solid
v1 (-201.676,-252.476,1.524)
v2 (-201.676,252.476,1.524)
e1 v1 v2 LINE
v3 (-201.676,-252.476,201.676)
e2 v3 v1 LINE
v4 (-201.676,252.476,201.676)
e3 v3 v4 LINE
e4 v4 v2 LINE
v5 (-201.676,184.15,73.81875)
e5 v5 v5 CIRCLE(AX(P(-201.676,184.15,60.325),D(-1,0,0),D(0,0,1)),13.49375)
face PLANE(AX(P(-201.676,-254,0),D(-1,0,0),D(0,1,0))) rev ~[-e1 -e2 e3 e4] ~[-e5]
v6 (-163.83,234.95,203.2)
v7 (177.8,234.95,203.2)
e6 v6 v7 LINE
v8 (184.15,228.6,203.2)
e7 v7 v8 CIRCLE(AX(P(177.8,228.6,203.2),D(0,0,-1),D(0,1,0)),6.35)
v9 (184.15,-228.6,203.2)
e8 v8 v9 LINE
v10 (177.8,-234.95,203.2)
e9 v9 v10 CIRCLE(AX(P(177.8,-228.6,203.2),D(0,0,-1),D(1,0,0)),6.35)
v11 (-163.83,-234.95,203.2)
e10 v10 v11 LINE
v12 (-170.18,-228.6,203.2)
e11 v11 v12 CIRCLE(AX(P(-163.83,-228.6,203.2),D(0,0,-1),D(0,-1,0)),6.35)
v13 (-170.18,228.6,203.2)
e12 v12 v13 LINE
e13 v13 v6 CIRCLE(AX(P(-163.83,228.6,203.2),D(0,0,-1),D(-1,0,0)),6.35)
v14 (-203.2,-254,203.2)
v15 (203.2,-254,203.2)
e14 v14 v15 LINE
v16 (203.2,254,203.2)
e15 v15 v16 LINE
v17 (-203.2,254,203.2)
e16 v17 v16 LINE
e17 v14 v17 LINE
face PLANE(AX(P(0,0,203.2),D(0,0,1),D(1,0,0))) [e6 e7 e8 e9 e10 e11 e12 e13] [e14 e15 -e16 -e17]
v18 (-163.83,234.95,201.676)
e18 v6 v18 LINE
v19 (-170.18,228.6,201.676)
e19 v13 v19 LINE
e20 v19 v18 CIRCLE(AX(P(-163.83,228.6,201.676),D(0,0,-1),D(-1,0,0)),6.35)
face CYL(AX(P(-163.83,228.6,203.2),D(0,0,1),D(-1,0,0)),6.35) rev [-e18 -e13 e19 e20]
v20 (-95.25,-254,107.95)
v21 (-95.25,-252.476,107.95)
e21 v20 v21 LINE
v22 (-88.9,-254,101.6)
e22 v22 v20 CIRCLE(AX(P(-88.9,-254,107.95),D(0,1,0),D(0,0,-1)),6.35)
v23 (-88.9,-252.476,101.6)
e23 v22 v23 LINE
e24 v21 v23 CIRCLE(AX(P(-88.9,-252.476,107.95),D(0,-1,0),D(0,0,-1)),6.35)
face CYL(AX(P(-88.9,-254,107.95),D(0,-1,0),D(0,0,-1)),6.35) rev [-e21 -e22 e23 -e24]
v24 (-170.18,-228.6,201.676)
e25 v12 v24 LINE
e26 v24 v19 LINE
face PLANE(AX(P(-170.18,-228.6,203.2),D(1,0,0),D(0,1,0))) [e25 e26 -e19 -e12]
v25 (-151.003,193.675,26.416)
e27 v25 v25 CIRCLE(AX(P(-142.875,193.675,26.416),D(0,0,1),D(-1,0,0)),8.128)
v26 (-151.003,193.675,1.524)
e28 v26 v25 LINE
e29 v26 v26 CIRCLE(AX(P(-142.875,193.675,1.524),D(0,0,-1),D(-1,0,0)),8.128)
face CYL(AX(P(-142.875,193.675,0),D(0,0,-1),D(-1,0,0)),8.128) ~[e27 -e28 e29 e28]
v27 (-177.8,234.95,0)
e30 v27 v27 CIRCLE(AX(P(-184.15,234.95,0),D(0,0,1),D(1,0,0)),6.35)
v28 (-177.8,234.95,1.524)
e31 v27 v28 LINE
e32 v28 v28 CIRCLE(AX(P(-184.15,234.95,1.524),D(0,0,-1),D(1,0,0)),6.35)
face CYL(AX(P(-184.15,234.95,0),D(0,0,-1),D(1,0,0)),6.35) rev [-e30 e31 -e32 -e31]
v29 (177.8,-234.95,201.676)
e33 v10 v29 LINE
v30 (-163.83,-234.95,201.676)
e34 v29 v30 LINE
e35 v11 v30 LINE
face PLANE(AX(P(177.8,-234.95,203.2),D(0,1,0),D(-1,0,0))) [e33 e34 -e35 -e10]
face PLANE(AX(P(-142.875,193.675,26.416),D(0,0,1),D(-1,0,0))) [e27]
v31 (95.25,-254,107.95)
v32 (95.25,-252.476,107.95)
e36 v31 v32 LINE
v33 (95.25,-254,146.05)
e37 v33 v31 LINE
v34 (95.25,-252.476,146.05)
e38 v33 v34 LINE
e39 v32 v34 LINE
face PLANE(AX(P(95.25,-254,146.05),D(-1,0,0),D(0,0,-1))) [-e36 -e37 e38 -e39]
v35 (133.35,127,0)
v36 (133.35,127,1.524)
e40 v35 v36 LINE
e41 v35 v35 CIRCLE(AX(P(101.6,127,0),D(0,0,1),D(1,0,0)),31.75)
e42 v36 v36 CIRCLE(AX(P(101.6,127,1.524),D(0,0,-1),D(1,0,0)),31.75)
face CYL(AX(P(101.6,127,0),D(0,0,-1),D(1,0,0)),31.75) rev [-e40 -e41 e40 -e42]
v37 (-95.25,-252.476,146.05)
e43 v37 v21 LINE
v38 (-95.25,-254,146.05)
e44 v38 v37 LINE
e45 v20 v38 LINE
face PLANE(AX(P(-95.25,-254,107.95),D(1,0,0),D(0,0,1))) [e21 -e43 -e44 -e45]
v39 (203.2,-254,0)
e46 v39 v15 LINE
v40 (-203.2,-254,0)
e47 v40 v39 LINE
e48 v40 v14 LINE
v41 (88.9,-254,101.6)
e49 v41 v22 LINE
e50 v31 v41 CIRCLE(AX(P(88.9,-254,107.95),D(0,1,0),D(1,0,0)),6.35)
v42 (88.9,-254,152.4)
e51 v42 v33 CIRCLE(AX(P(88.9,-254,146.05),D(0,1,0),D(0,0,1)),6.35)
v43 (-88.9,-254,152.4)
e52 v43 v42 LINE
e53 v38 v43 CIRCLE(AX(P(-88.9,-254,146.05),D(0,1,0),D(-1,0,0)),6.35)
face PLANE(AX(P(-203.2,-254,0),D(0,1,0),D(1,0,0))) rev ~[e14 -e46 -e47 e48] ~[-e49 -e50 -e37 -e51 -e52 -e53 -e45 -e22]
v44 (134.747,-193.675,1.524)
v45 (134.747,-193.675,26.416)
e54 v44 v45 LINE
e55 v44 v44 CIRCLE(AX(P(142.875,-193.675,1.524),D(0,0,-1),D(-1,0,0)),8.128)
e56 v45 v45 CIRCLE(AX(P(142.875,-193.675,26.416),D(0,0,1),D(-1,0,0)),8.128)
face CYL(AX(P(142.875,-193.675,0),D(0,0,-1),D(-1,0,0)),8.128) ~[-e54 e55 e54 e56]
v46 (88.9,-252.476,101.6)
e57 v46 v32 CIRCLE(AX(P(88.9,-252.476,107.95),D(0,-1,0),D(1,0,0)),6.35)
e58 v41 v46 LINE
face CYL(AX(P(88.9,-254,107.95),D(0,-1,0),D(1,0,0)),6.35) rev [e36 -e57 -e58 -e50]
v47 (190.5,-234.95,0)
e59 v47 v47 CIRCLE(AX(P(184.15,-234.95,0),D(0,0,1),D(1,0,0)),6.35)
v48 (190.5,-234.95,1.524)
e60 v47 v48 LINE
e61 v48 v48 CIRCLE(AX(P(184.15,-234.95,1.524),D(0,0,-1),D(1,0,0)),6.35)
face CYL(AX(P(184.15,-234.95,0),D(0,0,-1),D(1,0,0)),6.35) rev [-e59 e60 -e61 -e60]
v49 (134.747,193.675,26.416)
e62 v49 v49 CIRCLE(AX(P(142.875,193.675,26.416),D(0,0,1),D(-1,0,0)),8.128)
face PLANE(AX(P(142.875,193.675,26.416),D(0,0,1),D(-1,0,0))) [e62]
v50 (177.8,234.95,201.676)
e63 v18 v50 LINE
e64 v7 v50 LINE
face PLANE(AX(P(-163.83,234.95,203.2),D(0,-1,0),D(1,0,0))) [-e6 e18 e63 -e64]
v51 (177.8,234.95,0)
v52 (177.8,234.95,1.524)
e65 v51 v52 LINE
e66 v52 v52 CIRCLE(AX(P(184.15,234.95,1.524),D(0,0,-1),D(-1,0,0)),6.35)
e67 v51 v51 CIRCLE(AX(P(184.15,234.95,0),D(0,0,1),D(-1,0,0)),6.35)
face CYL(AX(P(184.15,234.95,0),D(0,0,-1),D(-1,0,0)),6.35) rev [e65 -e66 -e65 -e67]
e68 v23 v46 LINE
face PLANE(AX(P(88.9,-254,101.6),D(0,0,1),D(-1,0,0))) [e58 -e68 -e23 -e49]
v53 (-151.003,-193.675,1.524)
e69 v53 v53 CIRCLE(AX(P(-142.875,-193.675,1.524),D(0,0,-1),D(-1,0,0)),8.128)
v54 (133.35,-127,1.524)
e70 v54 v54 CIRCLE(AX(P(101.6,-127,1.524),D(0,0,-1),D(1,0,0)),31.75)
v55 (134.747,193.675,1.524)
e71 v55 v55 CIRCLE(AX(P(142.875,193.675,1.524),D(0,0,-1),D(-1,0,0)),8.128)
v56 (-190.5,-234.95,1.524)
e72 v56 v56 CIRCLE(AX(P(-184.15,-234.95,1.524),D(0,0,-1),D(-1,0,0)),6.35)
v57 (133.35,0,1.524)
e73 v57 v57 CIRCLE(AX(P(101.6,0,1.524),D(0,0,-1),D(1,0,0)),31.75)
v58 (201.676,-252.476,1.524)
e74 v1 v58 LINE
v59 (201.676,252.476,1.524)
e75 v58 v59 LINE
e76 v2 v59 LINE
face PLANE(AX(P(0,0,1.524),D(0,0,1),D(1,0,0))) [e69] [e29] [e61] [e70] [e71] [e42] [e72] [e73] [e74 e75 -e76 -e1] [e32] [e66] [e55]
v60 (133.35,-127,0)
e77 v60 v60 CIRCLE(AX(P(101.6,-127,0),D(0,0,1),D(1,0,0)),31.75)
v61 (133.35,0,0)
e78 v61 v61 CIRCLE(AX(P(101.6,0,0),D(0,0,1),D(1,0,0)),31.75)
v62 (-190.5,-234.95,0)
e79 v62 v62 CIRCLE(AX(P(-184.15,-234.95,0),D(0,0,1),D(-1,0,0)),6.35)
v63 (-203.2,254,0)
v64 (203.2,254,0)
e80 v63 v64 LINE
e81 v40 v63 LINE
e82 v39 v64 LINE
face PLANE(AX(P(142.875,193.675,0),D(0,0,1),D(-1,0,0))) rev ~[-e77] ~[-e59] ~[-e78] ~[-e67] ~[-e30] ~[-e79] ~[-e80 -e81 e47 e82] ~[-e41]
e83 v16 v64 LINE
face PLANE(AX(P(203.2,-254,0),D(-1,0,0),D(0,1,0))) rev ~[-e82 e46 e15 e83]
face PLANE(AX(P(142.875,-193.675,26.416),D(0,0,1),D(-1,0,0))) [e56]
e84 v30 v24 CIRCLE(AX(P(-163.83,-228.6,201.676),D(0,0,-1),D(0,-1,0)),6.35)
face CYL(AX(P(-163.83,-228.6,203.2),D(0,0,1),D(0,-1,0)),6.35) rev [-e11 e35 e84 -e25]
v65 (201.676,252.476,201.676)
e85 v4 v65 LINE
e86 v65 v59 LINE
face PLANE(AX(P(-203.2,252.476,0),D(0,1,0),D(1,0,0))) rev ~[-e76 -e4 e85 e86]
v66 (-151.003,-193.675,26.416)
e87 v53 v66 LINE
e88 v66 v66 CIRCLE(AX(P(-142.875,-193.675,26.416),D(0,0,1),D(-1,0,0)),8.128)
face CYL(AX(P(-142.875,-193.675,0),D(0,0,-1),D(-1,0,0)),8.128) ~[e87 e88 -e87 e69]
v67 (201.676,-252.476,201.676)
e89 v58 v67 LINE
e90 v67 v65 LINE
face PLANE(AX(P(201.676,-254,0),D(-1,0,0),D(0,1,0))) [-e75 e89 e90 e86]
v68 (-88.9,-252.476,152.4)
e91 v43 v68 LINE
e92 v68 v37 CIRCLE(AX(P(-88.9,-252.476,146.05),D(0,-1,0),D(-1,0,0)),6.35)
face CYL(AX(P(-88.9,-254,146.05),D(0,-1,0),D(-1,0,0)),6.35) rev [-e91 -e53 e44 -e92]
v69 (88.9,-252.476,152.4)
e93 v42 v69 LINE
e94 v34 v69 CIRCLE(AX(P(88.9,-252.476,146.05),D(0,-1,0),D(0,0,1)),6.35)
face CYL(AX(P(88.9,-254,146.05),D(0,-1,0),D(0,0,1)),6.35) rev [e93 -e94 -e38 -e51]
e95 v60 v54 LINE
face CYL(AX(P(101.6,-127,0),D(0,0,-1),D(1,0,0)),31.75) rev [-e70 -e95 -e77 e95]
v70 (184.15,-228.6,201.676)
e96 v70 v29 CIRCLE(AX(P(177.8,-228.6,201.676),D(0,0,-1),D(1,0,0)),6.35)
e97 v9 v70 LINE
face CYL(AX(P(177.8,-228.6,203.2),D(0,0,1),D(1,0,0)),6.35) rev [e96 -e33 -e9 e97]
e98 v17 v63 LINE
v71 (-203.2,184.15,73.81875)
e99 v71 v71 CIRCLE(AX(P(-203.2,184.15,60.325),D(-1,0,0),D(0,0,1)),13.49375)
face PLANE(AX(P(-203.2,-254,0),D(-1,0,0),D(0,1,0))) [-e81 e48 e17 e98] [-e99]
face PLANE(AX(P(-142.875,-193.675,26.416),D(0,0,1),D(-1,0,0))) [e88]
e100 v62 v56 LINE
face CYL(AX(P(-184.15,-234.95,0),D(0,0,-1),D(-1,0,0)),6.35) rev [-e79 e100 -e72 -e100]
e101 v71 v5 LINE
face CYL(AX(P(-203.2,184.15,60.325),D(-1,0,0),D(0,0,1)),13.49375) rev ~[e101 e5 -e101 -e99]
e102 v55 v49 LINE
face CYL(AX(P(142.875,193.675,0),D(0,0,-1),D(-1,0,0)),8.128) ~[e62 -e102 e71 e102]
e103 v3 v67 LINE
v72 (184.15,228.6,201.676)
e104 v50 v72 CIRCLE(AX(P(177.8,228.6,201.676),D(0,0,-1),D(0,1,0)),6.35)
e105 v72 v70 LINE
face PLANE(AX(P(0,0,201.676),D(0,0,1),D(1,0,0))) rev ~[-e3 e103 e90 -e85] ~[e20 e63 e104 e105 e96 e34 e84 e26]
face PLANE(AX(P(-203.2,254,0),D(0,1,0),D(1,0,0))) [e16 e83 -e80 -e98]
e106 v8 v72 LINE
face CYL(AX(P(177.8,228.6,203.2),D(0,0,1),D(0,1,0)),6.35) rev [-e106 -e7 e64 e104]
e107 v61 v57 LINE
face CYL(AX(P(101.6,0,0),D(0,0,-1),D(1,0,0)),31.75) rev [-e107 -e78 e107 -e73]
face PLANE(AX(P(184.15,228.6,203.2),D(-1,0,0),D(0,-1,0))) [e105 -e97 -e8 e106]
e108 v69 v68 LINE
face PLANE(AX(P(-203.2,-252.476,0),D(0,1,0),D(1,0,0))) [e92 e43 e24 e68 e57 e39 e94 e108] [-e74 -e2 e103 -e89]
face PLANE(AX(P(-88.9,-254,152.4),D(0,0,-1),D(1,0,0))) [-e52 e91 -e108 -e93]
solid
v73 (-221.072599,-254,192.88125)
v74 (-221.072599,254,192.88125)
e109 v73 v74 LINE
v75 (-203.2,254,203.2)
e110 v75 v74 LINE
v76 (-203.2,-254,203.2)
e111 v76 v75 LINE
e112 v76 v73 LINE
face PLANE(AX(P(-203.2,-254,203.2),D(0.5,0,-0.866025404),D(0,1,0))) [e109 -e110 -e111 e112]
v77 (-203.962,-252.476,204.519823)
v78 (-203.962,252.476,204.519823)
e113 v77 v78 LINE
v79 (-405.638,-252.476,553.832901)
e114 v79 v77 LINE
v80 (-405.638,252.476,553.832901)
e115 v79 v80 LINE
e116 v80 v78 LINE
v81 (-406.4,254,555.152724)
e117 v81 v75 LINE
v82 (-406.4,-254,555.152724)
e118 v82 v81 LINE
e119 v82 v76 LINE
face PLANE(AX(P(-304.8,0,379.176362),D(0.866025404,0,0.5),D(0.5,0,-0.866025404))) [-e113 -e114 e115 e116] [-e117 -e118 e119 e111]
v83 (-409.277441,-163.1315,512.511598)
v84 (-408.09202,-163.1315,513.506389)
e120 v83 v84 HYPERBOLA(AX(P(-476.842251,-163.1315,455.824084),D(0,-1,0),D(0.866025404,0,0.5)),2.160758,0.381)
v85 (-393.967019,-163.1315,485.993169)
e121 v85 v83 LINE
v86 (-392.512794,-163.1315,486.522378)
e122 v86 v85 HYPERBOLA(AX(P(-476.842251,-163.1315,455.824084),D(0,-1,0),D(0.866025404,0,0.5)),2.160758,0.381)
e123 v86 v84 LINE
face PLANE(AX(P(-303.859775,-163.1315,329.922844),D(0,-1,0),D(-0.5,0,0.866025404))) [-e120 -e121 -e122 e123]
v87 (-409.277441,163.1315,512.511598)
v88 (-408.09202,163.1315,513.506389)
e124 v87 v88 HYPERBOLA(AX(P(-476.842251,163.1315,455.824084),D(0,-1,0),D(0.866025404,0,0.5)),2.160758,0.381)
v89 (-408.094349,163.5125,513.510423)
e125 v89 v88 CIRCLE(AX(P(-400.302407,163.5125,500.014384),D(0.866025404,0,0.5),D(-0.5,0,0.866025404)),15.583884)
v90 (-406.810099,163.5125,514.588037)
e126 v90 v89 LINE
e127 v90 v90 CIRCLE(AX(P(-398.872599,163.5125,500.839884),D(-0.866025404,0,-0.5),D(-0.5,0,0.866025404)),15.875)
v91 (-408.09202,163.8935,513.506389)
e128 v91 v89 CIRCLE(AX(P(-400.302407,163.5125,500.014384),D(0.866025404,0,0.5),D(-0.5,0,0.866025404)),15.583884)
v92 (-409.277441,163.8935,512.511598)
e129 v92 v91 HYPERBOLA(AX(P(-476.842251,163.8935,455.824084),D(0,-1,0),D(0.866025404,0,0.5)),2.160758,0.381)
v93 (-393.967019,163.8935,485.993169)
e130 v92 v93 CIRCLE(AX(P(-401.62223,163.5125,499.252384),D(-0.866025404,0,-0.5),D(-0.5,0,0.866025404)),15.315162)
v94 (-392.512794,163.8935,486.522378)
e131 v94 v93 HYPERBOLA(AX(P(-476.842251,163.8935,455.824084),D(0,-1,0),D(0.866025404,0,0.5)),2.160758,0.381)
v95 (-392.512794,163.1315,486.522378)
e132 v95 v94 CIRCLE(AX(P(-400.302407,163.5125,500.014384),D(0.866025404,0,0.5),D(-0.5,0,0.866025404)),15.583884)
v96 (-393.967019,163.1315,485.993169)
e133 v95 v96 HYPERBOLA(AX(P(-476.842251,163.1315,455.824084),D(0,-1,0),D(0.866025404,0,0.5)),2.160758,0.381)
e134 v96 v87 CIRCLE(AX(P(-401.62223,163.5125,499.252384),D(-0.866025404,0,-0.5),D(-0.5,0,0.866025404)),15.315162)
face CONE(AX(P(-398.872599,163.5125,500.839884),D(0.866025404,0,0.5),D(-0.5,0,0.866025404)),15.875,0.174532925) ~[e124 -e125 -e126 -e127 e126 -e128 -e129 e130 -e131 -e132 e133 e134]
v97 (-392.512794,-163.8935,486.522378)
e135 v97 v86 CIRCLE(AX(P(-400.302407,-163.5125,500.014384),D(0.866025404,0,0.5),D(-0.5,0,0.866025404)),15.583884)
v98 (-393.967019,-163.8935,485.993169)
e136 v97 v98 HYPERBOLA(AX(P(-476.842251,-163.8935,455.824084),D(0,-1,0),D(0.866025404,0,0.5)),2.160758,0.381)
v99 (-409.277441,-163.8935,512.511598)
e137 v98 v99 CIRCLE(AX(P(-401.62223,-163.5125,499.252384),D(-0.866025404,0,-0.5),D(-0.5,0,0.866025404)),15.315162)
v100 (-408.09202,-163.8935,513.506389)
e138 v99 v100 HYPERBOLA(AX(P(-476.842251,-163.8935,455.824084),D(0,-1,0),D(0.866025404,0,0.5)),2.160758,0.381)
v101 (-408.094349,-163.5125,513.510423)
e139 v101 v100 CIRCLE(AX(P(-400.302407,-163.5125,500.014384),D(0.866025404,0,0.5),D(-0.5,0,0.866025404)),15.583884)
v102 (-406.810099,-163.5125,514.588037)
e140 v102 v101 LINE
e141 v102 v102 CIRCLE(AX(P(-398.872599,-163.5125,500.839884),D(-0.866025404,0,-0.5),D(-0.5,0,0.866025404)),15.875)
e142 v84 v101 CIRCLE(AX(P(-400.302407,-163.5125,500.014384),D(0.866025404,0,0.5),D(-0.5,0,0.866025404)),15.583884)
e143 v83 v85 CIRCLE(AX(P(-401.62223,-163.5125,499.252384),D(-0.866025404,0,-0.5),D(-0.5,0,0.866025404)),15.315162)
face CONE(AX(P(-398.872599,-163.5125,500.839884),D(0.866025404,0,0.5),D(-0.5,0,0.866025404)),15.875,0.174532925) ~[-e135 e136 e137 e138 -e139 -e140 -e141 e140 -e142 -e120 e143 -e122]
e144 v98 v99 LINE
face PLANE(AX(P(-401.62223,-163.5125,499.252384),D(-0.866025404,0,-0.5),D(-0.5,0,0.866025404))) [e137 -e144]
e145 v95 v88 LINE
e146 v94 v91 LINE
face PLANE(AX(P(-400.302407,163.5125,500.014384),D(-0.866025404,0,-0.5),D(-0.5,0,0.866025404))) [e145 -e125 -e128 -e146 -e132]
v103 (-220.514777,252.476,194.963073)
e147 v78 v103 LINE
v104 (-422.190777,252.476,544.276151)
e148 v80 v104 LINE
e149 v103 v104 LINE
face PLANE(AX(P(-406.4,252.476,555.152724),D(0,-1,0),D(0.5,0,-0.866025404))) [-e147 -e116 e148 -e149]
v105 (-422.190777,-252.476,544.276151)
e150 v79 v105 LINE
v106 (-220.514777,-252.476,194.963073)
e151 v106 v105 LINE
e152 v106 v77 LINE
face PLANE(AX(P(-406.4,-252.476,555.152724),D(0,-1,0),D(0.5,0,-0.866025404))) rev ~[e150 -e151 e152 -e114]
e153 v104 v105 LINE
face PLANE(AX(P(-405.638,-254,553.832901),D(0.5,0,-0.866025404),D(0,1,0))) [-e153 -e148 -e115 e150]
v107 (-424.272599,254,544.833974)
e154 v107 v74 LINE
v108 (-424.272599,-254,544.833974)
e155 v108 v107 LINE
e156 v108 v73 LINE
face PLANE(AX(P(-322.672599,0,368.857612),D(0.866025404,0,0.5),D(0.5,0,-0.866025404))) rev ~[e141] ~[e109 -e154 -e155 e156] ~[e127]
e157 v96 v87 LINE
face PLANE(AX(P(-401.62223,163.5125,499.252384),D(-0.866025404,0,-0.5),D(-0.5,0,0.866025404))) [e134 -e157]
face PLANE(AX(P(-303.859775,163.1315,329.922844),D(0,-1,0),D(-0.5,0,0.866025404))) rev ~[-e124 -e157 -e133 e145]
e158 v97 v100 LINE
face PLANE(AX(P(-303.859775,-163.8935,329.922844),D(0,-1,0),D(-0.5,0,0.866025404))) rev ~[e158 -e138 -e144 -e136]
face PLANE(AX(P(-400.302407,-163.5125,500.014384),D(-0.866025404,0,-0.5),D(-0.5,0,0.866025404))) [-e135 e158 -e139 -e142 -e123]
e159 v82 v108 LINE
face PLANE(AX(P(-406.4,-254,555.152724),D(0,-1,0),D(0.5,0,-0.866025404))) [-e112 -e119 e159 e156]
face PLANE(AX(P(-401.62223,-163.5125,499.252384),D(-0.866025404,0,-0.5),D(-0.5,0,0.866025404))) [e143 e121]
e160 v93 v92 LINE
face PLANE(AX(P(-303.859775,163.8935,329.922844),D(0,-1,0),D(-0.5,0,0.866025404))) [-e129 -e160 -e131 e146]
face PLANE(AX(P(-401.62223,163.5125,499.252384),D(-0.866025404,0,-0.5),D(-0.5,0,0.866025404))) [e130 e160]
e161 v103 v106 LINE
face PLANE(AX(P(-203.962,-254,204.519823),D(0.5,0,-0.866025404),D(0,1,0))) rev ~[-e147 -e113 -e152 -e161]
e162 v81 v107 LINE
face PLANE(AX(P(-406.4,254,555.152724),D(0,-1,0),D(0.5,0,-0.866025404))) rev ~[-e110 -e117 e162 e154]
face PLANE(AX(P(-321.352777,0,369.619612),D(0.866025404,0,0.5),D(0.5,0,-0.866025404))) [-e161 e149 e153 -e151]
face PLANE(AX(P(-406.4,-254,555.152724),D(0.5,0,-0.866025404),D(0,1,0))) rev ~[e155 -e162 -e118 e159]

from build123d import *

# Parameters (mm, degrees)
SKETCH1_W                = 406.4
SKETCH1_H                = 508
EXTRUDE1_DEPTH           = 203.2
SHELL1_T                 = -1.524
SKETCH2_R                = 6.35
CUT_EXTRUDE1_DEPTH       = 384.531589312
SKETCH6_W                = 406.4
SKETCH6_H                = 508
EXTRUDE3_DEPTH           = 1.524
SKETCH4_W                = 406.4
SKETCH4_H                = 508
EXTRUDE2_DEPTH           = 20.6375
SHELL2_T                 = -1.524
SKETCH7_R                = 13.49375
CUT_EXTRUDE2_DEPTH       = 2.54
SKETCH9_R                = 15.875
EXTRUDE5_DEPTH           = 3.175
EXTRUDE5_DRAFT           = 10
EXTRUDE5_PROFILE_2_DEPTH = 3.175
EXTRUDE5_PROFILE_2_DRAFT = 10
SKETCH10_W               = 391.049820908
SKETCH10_H               = 0.762
CUT_EXTRUDE3_DEPTH       = 1.524
SKETCH11_R               = 8.128
EXTRUDE6_DEPTH           = 26.416
SKETCH12_R               = 31.75
CUT_EXTRUDE5_DEPTH       = 2.54
CUT_EXTRUDE6_DEPTH       = 12.7


with BuildPart() as part:
    # Sketch1 → Extrude1 (new body)
    with BuildSketch(Plane.XY):
        Rectangle(SKETCH1_W, SKETCH1_H)
    extrude(amount=EXTRUDE1_DEPTH)

    # Shell1
    shell1_openings = [part.faces().sort_by_distance(p)[0] for p in [
        (0, 0, 203.2),
    ]]
    offset(amount=SHELL1_T, openings=shell1_openings, kind=Kind.INTERSECTION)

    # Sketch2 → Cut-Extrude1 (cut, through all)
    with BuildSketch(Plane.XY):
        with Locations((184.15, -234.95)):
            Circle(SKETCH2_R)
        with Locations(Location((-184.15, -234.95, 0), (0, 0, 180))):
            Circle(SKETCH2_R)
        with Locations(Location((184.15, 234.95, 0), (0, 0, 180))):
            Circle(SKETCH2_R)
        with Locations((-184.15, 234.95)):
            Circle(SKETCH2_R)
    extrude(amount=CUT_EXTRUDE1_DEPTH, mode=Mode.SUBTRACT)

    # Sketch6 → Extrude3 (add)
    with BuildSketch(Plane.XY.offset(203.2)):
        Rectangle(SKETCH6_W, SKETCH6_H)
        with BuildLine():
            Line((-163.83, 234.95), (177.8, 234.95))
            ThreePointArc((177.8, 234.95), (182.290128061, 233.090128061), (184.15, 228.6))
            Line((184.15, 228.6), (184.15, -228.6))
            ThreePointArc((184.15, -228.6), (182.290128061, -233.090128061), (177.8, -234.95))
            Line((177.8, -234.95), (-163.83, -234.95))
            ThreePointArc((-163.83, -234.95), (-168.320128061, -233.090128061), (-170.18, -228.6))
            Line((-170.18, -228.6), (-170.18, 228.6))
            ThreePointArc((-170.18, 228.6), (-168.320128061, 233.090128061), (-163.83, 234.95))
        make_face(mode=Mode.SUBTRACT)
    extrude(amount=-EXTRUDE3_DEPTH)

    # Sketch7 → Cut-Extrude2 (cut)
    with BuildSketch(Plane.ZY.offset(203.2)):
        with Locations((60.325, 184.15)):
            Circle(SKETCH7_R)
    extrude(amount=-CUT_EXTRUDE2_DEPTH, mode=Mode.SUBTRACT)

    # Sketch11 → Extrude6 (add)
    with BuildSketch(Plane.XY):
        with Locations(Location((142.875, 193.675, 0), (0, 0, 180))):
            Circle(SKETCH11_R)
        with Locations(Location((-142.875, 193.675, 0), (0, 0, 180))):
            Circle(SKETCH11_R)
        with Locations(Location((142.875, -193.675, 0), (0, 0, 180))):
            Circle(SKETCH11_R)
        with Locations(Location((-142.875, -193.675, 0), (0, 0, 180))):
            Circle(SKETCH11_R)
    extrude(amount=EXTRUDE6_DEPTH)

    # Sketch12 → Cut-Extrude5 (cut)
    with BuildSketch(Plane.XY):
        with Locations((101.6, 0)):
            Circle(SKETCH12_R)
        with Locations((101.6, -127)):
            Circle(SKETCH12_R)
        with Locations((101.6, 127)):
            Circle(SKETCH12_R)
    extrude(amount=CUT_EXTRUDE5_DEPTH, mode=Mode.SUBTRACT)

    # Sketch14 → Cut-Extrude6 (cut)
    with BuildSketch(Plane.XZ.offset(254)):
        with BuildLine():
            Line((-88.9, 152.4), (88.9, 152.4))
            ThreePointArc((88.9, 152.4), (93.390128061, 150.540128061), (95.25, 146.05))
            Line((95.25, 146.05), (95.25, 107.95))
            ThreePointArc((95.25, 107.95), (93.390128061, 103.459871939), (88.9, 101.6))
            Line((88.9, 101.6), (-88.9, 101.6))
            ThreePointArc((-88.9, 101.6), (-93.390128061, 103.459871939), (-95.25, 107.95))
            Line((-95.25, 107.95), (-95.25, 146.05))
            ThreePointArc((-95.25, 146.05), (-93.390128061, 150.540128061), (-88.9, 152.4))
        make_face()
    extrude(amount=-CUT_EXTRUDE6_DEPTH, mode=Mode.SUBTRACT)


with BuildPart() as body_2:
    # Sketch4 → Extrude2 (new body)
    with BuildSketch(Plane(origin=(-287.262584572, 0, 348.800667495), x_dir=(0.4999999999999948, 0, -0.8660254037844417), z_dir=(0.8660254037844417, 0, 0.4999999999999948))):
        with Locations((-35.074830855, 0)):
            Rectangle(SKETCH4_W, SKETCH4_H)
    extrude(amount=-EXTRUDE2_DEPTH)

    # Shell2
    shell2_openings = [body_2.faces().sort_by_distance(p)[0] for p in [
        (-304.8, 0, 379.176362049),
    ]]
    offset(amount=SHELL2_T, openings=shell2_openings, kind=Kind.INTERSECTION)


with BuildPart() as extrude5_tool:
    # Sketch9 → Extrude5 (with draft: the straight prism first)
    with BuildSketch(Plane(origin=(-82.284418246, 0, -47.506931024), x_dir=(-0.49999999999999467, 0, 0.8660254037844417), z_dir=(-0.8660254037844417, 0, -0.49999999999999467))):
        with Locations((633.176362049, 163.5125)):
            Circle(SKETCH9_R)
    extrude(amount=EXTRUDE5_DEPTH)
    # Extrude5: the draft: its side faces are tilted about the plane it starts from
    extrude5_sides = [extrude5_tool.faces().sort_by_distance(p)[0] for p in [
        (-392.309914599, 163.5125, 486.297980301),
    ]]
    draft(extrude5_sides, Plane(origin=(-82.284418246, 0, -47.506931024), x_dir=(-0.49999999999999467, 0, 0.8660254037844417), z_dir=(-0.8660254037844417, 0, -0.49999999999999467)), EXTRUDE5_DRAFT)


with BuildPart() as body_2_1:
    add(body_2.part)

    # Extrude5: add extrude5_tool
    add(extrude5_tool.part)


with BuildPart() as extrude5_profile_2_tool:
    # Sketch9 → Extrude5 profile 2 (with draft: the straight prism first)
    with BuildSketch(Plane(origin=(-82.284418246, 0, -47.506931024), x_dir=(-0.49999999999999467, 0, 0.8660254037844417), z_dir=(-0.8660254037844417, 0, -0.49999999999999467))):
        with Locations((633.176362049, -163.5125)):
            Circle(SKETCH9_R)
    extrude(amount=EXTRUDE5_PROFILE_2_DEPTH)
    # Extrude5 profile 2: the draft: its side faces are tilted about the plane it starts from
    extrude5_profile_2_sides = [extrude5_profile_2_tool.faces().sort_by_distance(p)[0] for p in [
        (-392.309914599, -163.5125, 486.297980301),
    ]]
    draft(extrude5_profile_2_sides, Plane(origin=(-82.284418246, 0, -47.506931024), x_dir=(-0.49999999999999467, 0, 0.8660254037844417), z_dir=(-0.8660254037844417, 0, -0.49999999999999467)), EXTRUDE5_PROFILE_2_DRAFT)


with BuildPart() as body_2_2:
    add(body_2_1.part)

    # Extrude5 profile 2: add extrude5_profile_2_tool
    add(extrude5_profile_2_tool.part)

    # Sketch10 → Cut-Extrude3 (cut)
    with BuildSketch(Plane(origin=(-85.034048903, 0, -49.094431024), x_dir=(-0.4999999999999946, 0, 0.8660254037844417), z_dir=(-0.8660254037844417, 0, -0.4999999999999946))):
        with Locations((633.176362049, -163.5125)):
            Rectangle(SKETCH10_W, SKETCH10_H)
        with Locations((633.176362049, 163.5125)):
            Rectangle(SKETCH10_W, SKETCH10_H)
    extrude(amount=-CUT_EXTRUDE3_DEPTH, mode=Mode.SUBTRACT)


solid = Compound([part.part, body_2_2.part])
